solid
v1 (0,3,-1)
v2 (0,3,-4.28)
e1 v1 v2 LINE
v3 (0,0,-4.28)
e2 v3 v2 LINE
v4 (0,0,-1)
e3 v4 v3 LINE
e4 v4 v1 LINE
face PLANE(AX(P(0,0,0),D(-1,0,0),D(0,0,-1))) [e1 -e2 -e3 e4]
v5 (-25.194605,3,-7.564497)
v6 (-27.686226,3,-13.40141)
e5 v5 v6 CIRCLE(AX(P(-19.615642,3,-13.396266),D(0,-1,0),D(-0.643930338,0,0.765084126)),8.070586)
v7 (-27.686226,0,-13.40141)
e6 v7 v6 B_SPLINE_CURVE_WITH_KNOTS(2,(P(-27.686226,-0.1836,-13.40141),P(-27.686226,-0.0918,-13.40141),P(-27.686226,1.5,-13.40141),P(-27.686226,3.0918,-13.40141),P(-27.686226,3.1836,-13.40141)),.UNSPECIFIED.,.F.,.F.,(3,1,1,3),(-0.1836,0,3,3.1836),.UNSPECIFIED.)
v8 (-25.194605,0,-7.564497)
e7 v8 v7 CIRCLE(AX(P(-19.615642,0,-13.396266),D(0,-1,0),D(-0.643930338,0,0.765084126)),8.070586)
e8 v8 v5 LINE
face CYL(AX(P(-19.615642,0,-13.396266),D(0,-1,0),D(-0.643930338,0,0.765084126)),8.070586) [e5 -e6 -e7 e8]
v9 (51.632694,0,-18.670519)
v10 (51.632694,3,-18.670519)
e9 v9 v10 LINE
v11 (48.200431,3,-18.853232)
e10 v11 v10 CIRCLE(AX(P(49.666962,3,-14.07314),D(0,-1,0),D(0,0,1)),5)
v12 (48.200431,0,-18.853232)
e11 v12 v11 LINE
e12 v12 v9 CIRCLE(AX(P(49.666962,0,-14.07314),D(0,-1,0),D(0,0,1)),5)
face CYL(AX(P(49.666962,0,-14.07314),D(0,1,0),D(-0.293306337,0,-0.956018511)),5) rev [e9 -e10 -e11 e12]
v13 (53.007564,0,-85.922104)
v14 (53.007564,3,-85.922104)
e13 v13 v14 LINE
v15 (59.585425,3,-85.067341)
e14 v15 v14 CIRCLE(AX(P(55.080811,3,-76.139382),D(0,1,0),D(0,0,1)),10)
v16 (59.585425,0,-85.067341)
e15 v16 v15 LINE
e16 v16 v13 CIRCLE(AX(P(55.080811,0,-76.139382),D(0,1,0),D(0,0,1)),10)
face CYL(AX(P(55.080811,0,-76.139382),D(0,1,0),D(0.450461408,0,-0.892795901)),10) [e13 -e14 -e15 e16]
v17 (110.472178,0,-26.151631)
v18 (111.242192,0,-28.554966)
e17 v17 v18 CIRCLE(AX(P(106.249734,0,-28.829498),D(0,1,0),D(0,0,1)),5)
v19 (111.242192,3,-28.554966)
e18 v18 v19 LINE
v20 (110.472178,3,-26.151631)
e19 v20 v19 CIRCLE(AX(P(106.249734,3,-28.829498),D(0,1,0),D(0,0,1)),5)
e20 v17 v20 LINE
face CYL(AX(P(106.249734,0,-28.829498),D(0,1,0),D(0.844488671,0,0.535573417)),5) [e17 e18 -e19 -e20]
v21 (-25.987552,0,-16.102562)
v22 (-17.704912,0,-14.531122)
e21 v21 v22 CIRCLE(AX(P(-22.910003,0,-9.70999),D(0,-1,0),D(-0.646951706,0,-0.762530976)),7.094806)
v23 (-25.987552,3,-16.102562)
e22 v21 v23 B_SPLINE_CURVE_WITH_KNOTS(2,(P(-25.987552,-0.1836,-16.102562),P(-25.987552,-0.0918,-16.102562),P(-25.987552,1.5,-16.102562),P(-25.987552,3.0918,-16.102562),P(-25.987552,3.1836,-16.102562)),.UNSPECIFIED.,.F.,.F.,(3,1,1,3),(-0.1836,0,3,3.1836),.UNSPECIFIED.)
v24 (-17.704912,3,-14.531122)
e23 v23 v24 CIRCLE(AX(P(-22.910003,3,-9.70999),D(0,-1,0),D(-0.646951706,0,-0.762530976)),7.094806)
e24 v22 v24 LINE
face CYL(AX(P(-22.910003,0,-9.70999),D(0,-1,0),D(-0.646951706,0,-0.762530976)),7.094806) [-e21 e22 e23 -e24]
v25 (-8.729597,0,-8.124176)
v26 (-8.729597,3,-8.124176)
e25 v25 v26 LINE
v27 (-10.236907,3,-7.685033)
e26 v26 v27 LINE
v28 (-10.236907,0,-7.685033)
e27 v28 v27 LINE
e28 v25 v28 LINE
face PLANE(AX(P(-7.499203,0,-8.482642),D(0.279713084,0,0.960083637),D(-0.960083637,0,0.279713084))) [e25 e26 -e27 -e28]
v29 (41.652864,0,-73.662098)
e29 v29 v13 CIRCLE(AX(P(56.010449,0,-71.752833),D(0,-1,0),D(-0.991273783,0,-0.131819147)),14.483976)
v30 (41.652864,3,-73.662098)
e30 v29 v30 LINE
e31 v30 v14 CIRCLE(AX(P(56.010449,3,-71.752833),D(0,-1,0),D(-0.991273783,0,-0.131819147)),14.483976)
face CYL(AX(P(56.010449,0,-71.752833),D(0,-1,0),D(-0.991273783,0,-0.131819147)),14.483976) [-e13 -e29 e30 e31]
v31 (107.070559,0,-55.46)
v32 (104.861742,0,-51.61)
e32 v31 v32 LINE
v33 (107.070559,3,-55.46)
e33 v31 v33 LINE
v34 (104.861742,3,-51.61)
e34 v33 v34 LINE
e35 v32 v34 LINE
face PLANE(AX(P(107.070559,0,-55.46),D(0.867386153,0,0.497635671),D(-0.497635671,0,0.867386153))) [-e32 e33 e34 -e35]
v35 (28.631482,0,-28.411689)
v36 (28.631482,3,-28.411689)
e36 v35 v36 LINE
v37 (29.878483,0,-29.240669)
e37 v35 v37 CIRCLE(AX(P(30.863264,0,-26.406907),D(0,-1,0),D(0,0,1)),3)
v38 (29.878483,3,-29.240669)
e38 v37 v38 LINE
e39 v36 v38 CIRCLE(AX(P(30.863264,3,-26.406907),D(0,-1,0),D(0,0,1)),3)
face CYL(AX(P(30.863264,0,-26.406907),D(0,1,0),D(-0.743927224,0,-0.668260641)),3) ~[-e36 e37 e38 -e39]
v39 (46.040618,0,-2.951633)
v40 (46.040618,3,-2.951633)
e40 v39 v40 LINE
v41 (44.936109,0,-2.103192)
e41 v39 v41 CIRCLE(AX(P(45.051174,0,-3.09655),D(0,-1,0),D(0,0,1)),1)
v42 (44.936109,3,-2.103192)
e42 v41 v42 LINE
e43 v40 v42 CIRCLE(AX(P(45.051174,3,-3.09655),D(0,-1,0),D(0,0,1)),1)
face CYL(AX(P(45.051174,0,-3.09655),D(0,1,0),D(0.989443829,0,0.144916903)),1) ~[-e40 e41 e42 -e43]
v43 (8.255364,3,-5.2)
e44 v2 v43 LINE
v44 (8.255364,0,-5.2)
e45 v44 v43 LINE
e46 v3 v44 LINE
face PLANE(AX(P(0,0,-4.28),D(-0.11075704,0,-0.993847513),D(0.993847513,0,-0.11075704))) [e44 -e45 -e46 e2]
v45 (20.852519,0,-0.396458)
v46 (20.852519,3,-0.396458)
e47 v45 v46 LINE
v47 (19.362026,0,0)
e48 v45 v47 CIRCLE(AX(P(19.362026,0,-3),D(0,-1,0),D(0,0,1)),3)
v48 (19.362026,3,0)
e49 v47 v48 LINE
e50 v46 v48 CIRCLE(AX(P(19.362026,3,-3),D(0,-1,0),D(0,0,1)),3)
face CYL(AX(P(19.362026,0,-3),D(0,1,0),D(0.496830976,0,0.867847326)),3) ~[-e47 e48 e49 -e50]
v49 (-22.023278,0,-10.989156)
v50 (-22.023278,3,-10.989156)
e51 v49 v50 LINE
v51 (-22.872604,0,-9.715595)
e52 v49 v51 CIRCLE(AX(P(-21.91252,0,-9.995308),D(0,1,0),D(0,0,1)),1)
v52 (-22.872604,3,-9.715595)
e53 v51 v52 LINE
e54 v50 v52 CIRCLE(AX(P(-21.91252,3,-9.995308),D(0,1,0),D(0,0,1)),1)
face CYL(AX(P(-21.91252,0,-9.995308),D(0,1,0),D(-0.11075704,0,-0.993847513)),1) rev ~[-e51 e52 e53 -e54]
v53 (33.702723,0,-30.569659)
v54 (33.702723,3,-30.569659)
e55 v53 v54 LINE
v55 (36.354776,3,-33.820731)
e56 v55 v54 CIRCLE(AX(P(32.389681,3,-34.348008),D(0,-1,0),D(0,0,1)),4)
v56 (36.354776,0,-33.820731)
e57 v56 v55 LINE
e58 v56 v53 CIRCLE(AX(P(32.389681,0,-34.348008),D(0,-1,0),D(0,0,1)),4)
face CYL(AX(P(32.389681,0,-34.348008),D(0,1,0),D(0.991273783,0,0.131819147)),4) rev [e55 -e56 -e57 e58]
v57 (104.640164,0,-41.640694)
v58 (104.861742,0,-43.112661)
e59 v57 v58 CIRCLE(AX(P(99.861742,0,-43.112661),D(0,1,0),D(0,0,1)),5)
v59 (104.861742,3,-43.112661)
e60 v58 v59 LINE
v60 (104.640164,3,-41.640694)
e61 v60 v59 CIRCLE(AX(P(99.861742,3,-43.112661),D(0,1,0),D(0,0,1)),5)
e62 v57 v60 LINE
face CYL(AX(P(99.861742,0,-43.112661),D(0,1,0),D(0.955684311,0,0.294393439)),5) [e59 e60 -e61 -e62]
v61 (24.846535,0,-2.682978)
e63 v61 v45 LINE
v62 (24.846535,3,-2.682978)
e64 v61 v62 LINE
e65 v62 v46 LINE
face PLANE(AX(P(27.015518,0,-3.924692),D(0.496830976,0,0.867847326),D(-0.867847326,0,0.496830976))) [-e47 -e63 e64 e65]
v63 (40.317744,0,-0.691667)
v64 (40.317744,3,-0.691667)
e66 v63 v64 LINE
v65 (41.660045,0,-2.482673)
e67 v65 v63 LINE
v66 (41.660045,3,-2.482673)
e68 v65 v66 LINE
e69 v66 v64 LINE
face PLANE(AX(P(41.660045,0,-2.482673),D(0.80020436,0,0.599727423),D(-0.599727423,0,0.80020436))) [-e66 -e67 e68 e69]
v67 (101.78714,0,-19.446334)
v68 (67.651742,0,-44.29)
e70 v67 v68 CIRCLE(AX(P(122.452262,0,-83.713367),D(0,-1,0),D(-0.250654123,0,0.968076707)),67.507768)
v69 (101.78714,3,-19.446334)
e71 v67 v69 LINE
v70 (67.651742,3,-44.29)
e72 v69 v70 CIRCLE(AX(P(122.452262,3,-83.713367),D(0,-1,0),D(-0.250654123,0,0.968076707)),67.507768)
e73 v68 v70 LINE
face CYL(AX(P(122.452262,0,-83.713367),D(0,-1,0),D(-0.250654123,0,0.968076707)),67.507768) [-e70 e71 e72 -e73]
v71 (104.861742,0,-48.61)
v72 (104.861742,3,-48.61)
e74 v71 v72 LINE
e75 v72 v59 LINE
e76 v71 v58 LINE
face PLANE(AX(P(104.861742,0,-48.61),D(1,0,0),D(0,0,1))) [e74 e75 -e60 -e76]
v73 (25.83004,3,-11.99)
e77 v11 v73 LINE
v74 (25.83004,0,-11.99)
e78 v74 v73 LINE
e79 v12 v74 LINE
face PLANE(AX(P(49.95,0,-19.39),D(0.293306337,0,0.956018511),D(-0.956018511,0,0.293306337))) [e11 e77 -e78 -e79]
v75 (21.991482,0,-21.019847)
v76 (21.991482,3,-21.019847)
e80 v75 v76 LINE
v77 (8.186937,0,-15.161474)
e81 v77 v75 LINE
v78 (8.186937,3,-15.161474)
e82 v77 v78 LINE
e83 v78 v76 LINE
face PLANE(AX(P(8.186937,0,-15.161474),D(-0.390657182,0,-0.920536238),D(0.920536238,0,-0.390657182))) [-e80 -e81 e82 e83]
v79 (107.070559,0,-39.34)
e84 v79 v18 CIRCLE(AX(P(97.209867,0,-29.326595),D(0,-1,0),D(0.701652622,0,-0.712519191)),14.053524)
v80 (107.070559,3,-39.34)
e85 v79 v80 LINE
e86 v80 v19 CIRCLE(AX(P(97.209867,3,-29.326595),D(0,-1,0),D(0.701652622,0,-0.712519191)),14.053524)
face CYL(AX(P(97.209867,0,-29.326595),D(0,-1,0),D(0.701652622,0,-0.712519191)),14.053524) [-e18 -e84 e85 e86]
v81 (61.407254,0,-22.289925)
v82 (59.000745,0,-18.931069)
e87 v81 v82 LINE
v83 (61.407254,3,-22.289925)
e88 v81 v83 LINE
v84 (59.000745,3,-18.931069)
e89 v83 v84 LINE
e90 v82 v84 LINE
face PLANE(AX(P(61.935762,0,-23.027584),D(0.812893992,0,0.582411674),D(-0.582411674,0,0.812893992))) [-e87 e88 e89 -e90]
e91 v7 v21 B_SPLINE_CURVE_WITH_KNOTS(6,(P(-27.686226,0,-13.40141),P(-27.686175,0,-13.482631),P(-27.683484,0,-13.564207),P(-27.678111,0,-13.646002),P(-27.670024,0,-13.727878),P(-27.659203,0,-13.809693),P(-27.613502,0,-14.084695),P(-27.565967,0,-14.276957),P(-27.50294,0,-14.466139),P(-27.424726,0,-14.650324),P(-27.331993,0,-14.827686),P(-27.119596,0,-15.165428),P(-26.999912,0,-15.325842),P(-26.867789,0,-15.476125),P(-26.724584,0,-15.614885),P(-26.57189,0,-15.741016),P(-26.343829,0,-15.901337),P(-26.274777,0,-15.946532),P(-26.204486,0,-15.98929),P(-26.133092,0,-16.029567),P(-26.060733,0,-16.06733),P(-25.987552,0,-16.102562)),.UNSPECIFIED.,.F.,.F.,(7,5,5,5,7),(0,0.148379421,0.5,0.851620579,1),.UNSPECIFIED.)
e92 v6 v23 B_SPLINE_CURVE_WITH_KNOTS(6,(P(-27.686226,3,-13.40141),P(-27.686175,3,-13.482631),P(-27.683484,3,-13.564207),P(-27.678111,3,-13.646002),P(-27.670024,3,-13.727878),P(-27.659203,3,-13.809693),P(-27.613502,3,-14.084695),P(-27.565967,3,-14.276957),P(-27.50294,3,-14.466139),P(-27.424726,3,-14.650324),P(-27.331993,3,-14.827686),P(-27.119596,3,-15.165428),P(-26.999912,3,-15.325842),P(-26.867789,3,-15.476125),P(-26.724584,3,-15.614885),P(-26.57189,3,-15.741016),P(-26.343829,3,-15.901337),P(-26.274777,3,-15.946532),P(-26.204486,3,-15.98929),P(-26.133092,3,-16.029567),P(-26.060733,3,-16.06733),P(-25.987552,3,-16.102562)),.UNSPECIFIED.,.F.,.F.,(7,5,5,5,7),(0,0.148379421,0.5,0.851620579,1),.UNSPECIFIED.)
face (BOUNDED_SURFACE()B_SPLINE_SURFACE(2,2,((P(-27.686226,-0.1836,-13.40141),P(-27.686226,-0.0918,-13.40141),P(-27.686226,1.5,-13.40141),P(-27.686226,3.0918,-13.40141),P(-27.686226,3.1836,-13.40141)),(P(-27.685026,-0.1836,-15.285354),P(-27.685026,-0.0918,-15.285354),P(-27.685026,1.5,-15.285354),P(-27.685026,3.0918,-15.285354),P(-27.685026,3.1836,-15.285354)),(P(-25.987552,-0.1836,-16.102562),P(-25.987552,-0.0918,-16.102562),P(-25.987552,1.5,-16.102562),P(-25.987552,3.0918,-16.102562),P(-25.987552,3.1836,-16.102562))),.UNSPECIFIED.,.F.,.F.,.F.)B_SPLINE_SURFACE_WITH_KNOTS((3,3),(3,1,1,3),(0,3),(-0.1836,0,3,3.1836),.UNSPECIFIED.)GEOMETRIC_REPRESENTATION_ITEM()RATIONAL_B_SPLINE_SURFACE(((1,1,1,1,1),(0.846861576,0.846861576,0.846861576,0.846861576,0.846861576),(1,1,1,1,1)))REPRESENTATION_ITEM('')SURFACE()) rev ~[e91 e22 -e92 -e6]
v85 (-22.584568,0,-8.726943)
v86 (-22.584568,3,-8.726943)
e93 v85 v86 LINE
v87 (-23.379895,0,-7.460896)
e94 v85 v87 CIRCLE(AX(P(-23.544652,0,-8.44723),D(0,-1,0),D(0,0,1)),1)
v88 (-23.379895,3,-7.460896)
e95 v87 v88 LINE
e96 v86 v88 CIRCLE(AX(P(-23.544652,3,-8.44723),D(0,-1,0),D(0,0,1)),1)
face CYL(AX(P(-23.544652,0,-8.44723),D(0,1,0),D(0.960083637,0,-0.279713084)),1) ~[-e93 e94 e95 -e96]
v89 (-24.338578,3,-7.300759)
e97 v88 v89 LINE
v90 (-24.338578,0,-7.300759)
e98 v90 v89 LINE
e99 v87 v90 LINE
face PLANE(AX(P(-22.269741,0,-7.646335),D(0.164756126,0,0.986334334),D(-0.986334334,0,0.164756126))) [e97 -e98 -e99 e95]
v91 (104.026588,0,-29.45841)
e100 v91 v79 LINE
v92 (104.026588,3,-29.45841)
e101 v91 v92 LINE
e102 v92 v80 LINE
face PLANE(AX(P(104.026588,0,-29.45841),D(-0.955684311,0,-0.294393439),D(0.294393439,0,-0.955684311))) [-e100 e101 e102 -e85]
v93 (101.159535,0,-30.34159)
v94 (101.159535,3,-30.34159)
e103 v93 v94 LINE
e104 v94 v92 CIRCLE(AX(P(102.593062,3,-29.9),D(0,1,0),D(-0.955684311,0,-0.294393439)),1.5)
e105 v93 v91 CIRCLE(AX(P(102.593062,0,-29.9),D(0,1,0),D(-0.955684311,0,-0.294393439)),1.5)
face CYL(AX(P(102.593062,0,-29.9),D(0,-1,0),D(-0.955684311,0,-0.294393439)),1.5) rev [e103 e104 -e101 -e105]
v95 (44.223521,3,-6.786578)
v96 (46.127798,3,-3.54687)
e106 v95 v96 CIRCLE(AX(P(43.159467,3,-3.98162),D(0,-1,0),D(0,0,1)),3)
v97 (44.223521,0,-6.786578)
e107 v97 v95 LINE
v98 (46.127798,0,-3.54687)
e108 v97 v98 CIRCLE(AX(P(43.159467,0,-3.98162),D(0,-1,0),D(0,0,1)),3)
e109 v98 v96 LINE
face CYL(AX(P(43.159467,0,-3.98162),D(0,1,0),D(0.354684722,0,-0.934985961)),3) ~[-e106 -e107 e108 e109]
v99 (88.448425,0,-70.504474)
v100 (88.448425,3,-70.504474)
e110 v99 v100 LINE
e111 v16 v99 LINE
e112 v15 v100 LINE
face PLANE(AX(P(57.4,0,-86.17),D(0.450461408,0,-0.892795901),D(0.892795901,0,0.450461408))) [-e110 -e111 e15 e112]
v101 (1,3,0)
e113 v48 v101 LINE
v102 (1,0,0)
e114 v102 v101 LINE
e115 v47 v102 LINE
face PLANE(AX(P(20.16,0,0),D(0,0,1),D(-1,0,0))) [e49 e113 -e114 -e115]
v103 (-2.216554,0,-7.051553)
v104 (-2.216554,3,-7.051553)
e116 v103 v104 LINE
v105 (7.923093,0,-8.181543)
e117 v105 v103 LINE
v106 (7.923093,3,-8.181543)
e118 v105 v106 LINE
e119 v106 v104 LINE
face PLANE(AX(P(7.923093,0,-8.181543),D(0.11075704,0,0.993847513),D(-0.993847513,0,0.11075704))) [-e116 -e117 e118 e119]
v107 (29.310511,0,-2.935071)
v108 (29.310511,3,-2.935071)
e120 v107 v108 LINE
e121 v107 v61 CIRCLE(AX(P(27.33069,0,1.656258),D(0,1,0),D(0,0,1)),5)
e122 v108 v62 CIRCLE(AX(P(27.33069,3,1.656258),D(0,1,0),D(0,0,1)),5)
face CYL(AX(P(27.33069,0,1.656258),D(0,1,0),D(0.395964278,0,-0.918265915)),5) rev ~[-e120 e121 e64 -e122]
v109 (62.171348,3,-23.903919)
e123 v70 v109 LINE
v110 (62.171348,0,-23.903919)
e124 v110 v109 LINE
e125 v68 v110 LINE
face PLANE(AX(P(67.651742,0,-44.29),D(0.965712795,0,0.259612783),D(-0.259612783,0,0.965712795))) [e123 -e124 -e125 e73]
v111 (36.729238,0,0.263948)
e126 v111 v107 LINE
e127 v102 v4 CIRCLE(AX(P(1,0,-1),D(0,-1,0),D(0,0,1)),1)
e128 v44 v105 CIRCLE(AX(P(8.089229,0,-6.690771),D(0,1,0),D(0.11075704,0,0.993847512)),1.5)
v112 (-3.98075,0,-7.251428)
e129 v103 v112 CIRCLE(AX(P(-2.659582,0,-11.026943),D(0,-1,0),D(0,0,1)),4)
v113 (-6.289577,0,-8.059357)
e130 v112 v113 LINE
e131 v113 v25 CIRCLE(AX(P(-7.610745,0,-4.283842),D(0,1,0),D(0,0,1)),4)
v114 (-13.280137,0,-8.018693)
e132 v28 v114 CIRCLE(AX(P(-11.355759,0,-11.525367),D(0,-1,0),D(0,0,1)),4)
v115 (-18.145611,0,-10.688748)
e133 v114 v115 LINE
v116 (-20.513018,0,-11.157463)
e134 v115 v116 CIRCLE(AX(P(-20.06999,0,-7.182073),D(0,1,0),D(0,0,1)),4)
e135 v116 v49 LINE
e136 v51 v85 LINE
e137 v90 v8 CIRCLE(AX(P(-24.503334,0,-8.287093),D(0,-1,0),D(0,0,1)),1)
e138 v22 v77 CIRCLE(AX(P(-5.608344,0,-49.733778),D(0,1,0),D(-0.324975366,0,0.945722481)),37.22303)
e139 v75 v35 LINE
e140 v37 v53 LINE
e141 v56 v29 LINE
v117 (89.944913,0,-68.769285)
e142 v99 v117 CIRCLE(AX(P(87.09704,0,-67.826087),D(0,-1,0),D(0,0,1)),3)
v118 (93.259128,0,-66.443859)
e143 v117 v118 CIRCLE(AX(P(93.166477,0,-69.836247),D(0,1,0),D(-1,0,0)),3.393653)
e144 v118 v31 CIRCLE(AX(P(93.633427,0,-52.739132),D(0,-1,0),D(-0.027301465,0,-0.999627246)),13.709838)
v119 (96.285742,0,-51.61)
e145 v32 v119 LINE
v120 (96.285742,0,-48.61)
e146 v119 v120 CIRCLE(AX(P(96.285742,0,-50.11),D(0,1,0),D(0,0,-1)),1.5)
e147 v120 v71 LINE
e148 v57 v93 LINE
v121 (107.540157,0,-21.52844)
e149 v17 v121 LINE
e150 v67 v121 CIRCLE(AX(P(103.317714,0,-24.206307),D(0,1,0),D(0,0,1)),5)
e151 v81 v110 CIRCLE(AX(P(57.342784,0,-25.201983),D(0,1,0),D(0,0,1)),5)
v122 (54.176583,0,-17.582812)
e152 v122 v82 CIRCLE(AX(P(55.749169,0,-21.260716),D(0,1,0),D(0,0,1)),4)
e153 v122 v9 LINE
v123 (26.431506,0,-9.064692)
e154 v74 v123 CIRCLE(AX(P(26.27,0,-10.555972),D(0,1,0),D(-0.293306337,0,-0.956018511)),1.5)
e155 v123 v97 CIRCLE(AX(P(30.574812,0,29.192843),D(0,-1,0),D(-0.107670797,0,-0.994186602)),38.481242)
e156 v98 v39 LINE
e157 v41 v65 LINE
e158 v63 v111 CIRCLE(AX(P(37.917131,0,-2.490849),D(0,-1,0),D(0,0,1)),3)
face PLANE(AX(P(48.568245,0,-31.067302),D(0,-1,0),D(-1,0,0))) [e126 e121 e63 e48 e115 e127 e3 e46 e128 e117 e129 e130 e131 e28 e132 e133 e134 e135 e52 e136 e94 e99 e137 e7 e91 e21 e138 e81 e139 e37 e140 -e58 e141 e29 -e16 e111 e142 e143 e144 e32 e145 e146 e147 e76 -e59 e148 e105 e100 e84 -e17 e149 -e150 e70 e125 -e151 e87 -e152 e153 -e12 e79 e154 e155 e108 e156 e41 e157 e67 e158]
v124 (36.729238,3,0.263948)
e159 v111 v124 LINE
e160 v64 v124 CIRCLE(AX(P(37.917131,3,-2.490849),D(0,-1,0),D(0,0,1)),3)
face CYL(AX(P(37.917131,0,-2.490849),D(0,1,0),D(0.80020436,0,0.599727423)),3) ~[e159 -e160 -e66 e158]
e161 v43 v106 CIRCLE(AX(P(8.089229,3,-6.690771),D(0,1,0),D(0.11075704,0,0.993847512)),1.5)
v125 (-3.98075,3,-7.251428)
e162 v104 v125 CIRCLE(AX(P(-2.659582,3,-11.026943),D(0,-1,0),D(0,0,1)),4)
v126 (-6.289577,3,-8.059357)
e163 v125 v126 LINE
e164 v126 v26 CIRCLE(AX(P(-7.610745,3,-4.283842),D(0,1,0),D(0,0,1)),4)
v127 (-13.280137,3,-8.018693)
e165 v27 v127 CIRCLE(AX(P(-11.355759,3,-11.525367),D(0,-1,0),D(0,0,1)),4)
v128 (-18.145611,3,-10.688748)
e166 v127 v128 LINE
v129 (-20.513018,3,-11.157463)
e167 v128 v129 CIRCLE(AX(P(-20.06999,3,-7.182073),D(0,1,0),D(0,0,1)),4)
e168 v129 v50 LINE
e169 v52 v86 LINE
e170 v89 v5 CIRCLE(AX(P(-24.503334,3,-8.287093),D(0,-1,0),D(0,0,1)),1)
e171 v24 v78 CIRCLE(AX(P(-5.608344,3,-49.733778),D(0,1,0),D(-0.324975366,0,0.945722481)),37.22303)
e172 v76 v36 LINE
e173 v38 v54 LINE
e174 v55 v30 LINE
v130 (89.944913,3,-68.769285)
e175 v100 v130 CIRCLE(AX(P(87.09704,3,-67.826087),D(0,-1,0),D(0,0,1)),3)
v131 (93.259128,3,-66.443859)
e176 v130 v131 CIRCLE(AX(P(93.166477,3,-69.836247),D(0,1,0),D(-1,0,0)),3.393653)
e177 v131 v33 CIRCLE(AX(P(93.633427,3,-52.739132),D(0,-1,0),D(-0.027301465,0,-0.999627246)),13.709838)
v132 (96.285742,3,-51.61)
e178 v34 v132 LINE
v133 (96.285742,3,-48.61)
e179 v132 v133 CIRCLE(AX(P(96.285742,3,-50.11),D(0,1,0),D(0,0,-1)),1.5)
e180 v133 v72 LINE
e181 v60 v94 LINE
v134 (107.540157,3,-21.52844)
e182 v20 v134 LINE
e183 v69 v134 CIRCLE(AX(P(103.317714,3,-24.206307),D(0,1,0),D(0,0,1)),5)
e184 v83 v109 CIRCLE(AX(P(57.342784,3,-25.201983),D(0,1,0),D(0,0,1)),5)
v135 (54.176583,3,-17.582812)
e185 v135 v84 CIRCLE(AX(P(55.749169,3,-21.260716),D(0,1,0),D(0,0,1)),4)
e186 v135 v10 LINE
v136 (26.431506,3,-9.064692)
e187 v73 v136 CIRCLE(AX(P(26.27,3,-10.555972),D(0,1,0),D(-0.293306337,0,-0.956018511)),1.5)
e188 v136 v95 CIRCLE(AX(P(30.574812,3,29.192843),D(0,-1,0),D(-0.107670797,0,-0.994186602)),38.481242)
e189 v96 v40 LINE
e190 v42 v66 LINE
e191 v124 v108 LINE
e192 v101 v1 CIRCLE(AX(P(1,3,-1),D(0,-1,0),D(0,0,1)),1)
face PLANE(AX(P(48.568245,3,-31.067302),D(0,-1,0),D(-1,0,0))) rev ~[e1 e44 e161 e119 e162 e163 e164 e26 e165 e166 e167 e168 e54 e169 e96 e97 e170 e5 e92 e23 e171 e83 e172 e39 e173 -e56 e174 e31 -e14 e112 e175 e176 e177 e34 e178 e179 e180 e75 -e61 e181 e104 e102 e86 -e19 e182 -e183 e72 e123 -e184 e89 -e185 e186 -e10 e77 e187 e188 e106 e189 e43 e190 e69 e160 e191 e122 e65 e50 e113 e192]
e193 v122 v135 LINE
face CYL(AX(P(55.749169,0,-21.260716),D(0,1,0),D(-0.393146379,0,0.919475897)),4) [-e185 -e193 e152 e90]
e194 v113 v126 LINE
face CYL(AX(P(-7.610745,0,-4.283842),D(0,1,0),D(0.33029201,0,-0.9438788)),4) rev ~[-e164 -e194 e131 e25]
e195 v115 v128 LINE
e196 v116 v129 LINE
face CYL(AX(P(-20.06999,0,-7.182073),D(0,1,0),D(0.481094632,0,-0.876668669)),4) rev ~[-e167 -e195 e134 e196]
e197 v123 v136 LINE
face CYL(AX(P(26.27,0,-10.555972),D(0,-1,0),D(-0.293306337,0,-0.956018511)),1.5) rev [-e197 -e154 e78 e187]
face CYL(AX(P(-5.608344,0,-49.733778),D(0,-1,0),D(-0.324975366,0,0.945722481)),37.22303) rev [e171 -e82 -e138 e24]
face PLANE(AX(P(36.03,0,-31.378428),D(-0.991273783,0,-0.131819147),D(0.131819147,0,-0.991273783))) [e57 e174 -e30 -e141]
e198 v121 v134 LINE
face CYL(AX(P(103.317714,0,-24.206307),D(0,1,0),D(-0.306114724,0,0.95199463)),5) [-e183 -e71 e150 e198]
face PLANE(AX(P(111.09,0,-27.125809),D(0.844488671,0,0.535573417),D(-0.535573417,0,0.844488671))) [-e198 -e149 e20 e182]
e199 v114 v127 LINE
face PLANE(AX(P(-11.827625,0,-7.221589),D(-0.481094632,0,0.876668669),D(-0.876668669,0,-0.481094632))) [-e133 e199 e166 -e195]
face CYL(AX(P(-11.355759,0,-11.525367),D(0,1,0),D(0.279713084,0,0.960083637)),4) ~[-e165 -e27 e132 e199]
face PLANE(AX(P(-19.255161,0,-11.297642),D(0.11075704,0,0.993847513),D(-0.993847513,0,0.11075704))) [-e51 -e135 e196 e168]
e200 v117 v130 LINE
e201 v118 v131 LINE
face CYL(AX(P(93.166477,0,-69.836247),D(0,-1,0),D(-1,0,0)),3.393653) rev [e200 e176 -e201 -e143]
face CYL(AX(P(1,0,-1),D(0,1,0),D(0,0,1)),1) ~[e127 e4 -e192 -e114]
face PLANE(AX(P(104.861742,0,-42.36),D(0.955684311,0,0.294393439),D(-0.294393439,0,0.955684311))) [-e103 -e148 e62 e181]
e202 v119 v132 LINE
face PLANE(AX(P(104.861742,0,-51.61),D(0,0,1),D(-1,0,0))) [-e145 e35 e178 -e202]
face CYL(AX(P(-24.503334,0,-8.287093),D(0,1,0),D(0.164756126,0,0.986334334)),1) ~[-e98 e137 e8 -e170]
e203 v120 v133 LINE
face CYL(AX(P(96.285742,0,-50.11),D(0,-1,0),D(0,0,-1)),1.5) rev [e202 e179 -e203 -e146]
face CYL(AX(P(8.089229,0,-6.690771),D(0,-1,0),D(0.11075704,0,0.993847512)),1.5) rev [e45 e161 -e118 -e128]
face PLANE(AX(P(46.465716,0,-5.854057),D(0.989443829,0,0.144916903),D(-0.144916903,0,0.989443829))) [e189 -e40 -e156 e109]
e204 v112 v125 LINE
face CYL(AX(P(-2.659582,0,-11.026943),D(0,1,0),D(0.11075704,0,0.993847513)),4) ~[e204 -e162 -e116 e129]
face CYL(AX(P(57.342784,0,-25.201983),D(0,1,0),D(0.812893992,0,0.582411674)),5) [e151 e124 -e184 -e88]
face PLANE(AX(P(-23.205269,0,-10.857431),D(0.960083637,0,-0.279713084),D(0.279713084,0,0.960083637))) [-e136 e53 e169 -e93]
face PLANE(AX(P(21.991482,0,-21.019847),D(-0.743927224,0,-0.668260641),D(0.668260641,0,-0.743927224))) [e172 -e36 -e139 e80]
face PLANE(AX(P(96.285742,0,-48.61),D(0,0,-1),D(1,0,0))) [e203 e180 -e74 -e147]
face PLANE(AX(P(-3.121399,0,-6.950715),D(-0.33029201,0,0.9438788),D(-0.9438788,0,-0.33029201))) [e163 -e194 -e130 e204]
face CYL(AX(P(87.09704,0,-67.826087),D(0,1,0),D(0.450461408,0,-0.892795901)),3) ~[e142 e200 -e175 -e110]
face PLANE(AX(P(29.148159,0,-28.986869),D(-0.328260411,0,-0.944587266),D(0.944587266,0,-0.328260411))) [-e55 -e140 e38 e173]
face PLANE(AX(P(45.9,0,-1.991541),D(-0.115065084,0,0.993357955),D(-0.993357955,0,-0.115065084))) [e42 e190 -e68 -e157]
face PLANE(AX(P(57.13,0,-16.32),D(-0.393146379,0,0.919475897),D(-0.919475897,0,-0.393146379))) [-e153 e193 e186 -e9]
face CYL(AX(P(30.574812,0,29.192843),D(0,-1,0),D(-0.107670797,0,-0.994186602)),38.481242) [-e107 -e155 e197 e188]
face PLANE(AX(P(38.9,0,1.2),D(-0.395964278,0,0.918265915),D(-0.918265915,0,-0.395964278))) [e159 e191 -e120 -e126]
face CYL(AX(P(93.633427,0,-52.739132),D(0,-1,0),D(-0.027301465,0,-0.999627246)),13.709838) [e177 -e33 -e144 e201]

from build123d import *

# Parameters (mm, degrees)
BOSS_EXTRUDE1_DEPTH = 3
FILLET1_R           = 3
FILLET2_R           = 5
FILLET3_R           = 4
FILLET4_R           = 1
FILLET5_R           = 10


with BuildPart() as part:
    # Sketch2 → Boss-Extrude1 (new body)
    with BuildSketch(Plane(origin=(0, 0, 0), x_dir=(1, 0, 0), z_dir=(0, 1, 0))):
        with BuildLine():
            Line((104.861742338, 51.61), (96.285742338, 51.61))
            ThreePointArc((96.285742338, 51.61), (94.785742338, 50.11), (96.285742338, 48.61))
            Line((96.285742338, 48.61), (104.861742338, 48.61))
            Line((104.861742338, 48.61), (104.861742338, 42.36))
            Line((104.861742338, 42.36), (101.159535482, 30.341590159))
            ThreePointArc((101.159535482, 30.341590159), (102.15147179, 28.466473533), (104.026588416, 29.458409841))
            Line((104.026588416, 29.458409841), (107.0705594, 39.34))
            ThreePointArc((107.0705594, 39.34), (110.559148386, 33.719570051), (111.09, 27.125809175))
            Line((111.09, 27.125809175), (105.531161353, 18.360668643))
            ThreePointArc((105.531161353, 18.360668643), (84.319857644, 28.006827284), (67.651742338, 44.29))
            Line((67.651742338, 44.29), (61.935762488, 23.027584397))
            Line((61.935762488, 23.027584397), (57.13, 16.32))
            Line((57.13, 16.32), (49.95, 19.39))
            Line((49.95, 19.39), (25.830040494, 11.99))
            ThreePointArc((25.830040494, 11.99), (24.800734775, 10.253880031), (26.431506195, 9.064692331))
            ThreePointArc((26.431506195, 9.064692331), (36.664028635, 8.803570476), (46.46571567, 5.854056721))
            Line((46.46571567, 5.854056721), (45.9, 1.991540554))
            Line((45.9, 1.991540554), (41.660045255, 2.482673431))
            Line((41.660045255, 2.482673431), (38.9, -1.2))
            Line((38.9, -1.2), (27.015518097, 3.924692331))
            Line((27.015518097, 3.924692331), (20.16, 0))
            Line((20.16, 0), (0, 0))
            Line((0, 0), (0, 4.28))
            Line((0, 4.28), (8.255364291, 5.2))
            ThreePointArc((8.255364291, 5.2), (9.58, 6.856906829), (7.923093171, 8.181542538))
            Line((7.923093171, 8.181542538), (-3.121398875, 6.950714639))
            Line((-3.121398875, 6.950714639), (-7.499203077, 8.482641989))
            Line((-7.499203077, 8.482641989), (-11.827625236, 7.22158903))
            Line((-11.827625236, 7.22158903), (-19.255161489, 11.297641869))
            Line((-19.255161489, 11.297641869), (-23.205269456, 10.857431213))
            Line((-23.205269456, 10.857431213), (-22.269740859, 7.646334739))
            Line((-22.269740859, 7.646334739), (-24.812537217, 7.22158903))
            ThreePointArc((-24.812537217, 7.22158903), (-27.256062178, 10.796585791), (-27.5, 15.12))
            ThreePointArc((-27.5, 15.12), (-22.484233626, 16.792009689), (-17.704912147, 14.531121607))
            ThreePointArc((-17.704912147, 14.531121607), (-4.702395419, 12.521774189), (8.186937419, 15.161474421))
            Line((8.186937419, 15.161474421), (21.991482078, 21.019847276))
            Line((21.991482078, 21.019847276), (29.148159429, 28.986869108))
            Line((29.148159429, 28.986869108), (36.03, 31.378427725))
            Line((36.03, 31.378427725), (41.652863678, 73.662098134))
            ThreePointArc((41.652863678, 73.662098134), (47.001876481, 83.094401265), (57.4, 86.17))
            Line((57.4, 86.17), (89.772823478, 69.836247096))
            ThreePointArc((89.772823478, 69.836247096), (90.799785464, 67.40403524), (93.25912827, 66.443859006))
            ThreePointArc((93.25912827, 66.443859006), (102.166931279, 63.469413825), (107.0705594, 55.46))
            Line((107.0705594, 55.46), (104.861742338, 51.61))
        make_face()
    extrude(amount=BOSS_EXTRUDE1_DEPTH)

    # Fillet1
    fillet1_edges = [part.edges().sort_by_distance(p)[0] for p in [
        (46.46571567, 1.5, -5.854056721),
        (38.9, 1.5, 1.2),
        (20.16, 1.5, 0),
        (-27.5, 1.5, -15.12),
        (29.148159429, 1.5, -28.986869108),
        (89.772823478, 1.5, -69.836247096),
    ]]
    fillet(fillet1_edges, radius=FILLET1_R)

    # Fillet2
    fillet2_edges = [part.edges().sort_by_distance(p)[0] for p in [
        (104.861742338, 1.5, -42.36),
        (111.09, 1.5, -27.125809175),
        (105.531161353, 1.5, -18.360668643),
        (61.935762488, 1.5, -23.027584397),
        (49.95, 1.5, -19.39),
        (27.015518097, 1.5, -3.924692331),
    ]]
    fillet(fillet2_edges, radius=FILLET2_R)

    # Fillet3
    fillet3_edges = [part.edges().sort_by_distance(p)[0] for p in [
        (57.13, 1.5, -16.32),
        (-3.121398875, 1.5, -6.950714639),
        (-7.499203077, 1.5, -8.482641989),
        (-11.827625236, 1.5, -7.22158903),
        (-19.255161489, 1.5, -11.297641869),
        (36.03, 1.5, -31.378427725),
    ]]
    fillet(fillet3_edges, radius=FILLET3_R)

    # Fillet4
    fillet4_edges = [part.edges().sort_by_distance(p)[0] for p in [
        (45.9, 1.5, -1.991540554),
        (0, 1.5, 0),
        (-23.205269456, 1.5, -10.857431213),
        (-22.269740859, 1.5, -7.646334739),
        (-24.812537217, 1.5, -7.22158903),
    ]]
    fillet(fillet4_edges, radius=FILLET4_R)

    # Fillet5
    fillet5_edges = [part.edges().sort_by_distance(p)[0] for p in [
        (57.4, 1.5, -86.17),
    ]]
    fillet(fillet5_edges, radius=FILLET5_R)


solid = part.part
